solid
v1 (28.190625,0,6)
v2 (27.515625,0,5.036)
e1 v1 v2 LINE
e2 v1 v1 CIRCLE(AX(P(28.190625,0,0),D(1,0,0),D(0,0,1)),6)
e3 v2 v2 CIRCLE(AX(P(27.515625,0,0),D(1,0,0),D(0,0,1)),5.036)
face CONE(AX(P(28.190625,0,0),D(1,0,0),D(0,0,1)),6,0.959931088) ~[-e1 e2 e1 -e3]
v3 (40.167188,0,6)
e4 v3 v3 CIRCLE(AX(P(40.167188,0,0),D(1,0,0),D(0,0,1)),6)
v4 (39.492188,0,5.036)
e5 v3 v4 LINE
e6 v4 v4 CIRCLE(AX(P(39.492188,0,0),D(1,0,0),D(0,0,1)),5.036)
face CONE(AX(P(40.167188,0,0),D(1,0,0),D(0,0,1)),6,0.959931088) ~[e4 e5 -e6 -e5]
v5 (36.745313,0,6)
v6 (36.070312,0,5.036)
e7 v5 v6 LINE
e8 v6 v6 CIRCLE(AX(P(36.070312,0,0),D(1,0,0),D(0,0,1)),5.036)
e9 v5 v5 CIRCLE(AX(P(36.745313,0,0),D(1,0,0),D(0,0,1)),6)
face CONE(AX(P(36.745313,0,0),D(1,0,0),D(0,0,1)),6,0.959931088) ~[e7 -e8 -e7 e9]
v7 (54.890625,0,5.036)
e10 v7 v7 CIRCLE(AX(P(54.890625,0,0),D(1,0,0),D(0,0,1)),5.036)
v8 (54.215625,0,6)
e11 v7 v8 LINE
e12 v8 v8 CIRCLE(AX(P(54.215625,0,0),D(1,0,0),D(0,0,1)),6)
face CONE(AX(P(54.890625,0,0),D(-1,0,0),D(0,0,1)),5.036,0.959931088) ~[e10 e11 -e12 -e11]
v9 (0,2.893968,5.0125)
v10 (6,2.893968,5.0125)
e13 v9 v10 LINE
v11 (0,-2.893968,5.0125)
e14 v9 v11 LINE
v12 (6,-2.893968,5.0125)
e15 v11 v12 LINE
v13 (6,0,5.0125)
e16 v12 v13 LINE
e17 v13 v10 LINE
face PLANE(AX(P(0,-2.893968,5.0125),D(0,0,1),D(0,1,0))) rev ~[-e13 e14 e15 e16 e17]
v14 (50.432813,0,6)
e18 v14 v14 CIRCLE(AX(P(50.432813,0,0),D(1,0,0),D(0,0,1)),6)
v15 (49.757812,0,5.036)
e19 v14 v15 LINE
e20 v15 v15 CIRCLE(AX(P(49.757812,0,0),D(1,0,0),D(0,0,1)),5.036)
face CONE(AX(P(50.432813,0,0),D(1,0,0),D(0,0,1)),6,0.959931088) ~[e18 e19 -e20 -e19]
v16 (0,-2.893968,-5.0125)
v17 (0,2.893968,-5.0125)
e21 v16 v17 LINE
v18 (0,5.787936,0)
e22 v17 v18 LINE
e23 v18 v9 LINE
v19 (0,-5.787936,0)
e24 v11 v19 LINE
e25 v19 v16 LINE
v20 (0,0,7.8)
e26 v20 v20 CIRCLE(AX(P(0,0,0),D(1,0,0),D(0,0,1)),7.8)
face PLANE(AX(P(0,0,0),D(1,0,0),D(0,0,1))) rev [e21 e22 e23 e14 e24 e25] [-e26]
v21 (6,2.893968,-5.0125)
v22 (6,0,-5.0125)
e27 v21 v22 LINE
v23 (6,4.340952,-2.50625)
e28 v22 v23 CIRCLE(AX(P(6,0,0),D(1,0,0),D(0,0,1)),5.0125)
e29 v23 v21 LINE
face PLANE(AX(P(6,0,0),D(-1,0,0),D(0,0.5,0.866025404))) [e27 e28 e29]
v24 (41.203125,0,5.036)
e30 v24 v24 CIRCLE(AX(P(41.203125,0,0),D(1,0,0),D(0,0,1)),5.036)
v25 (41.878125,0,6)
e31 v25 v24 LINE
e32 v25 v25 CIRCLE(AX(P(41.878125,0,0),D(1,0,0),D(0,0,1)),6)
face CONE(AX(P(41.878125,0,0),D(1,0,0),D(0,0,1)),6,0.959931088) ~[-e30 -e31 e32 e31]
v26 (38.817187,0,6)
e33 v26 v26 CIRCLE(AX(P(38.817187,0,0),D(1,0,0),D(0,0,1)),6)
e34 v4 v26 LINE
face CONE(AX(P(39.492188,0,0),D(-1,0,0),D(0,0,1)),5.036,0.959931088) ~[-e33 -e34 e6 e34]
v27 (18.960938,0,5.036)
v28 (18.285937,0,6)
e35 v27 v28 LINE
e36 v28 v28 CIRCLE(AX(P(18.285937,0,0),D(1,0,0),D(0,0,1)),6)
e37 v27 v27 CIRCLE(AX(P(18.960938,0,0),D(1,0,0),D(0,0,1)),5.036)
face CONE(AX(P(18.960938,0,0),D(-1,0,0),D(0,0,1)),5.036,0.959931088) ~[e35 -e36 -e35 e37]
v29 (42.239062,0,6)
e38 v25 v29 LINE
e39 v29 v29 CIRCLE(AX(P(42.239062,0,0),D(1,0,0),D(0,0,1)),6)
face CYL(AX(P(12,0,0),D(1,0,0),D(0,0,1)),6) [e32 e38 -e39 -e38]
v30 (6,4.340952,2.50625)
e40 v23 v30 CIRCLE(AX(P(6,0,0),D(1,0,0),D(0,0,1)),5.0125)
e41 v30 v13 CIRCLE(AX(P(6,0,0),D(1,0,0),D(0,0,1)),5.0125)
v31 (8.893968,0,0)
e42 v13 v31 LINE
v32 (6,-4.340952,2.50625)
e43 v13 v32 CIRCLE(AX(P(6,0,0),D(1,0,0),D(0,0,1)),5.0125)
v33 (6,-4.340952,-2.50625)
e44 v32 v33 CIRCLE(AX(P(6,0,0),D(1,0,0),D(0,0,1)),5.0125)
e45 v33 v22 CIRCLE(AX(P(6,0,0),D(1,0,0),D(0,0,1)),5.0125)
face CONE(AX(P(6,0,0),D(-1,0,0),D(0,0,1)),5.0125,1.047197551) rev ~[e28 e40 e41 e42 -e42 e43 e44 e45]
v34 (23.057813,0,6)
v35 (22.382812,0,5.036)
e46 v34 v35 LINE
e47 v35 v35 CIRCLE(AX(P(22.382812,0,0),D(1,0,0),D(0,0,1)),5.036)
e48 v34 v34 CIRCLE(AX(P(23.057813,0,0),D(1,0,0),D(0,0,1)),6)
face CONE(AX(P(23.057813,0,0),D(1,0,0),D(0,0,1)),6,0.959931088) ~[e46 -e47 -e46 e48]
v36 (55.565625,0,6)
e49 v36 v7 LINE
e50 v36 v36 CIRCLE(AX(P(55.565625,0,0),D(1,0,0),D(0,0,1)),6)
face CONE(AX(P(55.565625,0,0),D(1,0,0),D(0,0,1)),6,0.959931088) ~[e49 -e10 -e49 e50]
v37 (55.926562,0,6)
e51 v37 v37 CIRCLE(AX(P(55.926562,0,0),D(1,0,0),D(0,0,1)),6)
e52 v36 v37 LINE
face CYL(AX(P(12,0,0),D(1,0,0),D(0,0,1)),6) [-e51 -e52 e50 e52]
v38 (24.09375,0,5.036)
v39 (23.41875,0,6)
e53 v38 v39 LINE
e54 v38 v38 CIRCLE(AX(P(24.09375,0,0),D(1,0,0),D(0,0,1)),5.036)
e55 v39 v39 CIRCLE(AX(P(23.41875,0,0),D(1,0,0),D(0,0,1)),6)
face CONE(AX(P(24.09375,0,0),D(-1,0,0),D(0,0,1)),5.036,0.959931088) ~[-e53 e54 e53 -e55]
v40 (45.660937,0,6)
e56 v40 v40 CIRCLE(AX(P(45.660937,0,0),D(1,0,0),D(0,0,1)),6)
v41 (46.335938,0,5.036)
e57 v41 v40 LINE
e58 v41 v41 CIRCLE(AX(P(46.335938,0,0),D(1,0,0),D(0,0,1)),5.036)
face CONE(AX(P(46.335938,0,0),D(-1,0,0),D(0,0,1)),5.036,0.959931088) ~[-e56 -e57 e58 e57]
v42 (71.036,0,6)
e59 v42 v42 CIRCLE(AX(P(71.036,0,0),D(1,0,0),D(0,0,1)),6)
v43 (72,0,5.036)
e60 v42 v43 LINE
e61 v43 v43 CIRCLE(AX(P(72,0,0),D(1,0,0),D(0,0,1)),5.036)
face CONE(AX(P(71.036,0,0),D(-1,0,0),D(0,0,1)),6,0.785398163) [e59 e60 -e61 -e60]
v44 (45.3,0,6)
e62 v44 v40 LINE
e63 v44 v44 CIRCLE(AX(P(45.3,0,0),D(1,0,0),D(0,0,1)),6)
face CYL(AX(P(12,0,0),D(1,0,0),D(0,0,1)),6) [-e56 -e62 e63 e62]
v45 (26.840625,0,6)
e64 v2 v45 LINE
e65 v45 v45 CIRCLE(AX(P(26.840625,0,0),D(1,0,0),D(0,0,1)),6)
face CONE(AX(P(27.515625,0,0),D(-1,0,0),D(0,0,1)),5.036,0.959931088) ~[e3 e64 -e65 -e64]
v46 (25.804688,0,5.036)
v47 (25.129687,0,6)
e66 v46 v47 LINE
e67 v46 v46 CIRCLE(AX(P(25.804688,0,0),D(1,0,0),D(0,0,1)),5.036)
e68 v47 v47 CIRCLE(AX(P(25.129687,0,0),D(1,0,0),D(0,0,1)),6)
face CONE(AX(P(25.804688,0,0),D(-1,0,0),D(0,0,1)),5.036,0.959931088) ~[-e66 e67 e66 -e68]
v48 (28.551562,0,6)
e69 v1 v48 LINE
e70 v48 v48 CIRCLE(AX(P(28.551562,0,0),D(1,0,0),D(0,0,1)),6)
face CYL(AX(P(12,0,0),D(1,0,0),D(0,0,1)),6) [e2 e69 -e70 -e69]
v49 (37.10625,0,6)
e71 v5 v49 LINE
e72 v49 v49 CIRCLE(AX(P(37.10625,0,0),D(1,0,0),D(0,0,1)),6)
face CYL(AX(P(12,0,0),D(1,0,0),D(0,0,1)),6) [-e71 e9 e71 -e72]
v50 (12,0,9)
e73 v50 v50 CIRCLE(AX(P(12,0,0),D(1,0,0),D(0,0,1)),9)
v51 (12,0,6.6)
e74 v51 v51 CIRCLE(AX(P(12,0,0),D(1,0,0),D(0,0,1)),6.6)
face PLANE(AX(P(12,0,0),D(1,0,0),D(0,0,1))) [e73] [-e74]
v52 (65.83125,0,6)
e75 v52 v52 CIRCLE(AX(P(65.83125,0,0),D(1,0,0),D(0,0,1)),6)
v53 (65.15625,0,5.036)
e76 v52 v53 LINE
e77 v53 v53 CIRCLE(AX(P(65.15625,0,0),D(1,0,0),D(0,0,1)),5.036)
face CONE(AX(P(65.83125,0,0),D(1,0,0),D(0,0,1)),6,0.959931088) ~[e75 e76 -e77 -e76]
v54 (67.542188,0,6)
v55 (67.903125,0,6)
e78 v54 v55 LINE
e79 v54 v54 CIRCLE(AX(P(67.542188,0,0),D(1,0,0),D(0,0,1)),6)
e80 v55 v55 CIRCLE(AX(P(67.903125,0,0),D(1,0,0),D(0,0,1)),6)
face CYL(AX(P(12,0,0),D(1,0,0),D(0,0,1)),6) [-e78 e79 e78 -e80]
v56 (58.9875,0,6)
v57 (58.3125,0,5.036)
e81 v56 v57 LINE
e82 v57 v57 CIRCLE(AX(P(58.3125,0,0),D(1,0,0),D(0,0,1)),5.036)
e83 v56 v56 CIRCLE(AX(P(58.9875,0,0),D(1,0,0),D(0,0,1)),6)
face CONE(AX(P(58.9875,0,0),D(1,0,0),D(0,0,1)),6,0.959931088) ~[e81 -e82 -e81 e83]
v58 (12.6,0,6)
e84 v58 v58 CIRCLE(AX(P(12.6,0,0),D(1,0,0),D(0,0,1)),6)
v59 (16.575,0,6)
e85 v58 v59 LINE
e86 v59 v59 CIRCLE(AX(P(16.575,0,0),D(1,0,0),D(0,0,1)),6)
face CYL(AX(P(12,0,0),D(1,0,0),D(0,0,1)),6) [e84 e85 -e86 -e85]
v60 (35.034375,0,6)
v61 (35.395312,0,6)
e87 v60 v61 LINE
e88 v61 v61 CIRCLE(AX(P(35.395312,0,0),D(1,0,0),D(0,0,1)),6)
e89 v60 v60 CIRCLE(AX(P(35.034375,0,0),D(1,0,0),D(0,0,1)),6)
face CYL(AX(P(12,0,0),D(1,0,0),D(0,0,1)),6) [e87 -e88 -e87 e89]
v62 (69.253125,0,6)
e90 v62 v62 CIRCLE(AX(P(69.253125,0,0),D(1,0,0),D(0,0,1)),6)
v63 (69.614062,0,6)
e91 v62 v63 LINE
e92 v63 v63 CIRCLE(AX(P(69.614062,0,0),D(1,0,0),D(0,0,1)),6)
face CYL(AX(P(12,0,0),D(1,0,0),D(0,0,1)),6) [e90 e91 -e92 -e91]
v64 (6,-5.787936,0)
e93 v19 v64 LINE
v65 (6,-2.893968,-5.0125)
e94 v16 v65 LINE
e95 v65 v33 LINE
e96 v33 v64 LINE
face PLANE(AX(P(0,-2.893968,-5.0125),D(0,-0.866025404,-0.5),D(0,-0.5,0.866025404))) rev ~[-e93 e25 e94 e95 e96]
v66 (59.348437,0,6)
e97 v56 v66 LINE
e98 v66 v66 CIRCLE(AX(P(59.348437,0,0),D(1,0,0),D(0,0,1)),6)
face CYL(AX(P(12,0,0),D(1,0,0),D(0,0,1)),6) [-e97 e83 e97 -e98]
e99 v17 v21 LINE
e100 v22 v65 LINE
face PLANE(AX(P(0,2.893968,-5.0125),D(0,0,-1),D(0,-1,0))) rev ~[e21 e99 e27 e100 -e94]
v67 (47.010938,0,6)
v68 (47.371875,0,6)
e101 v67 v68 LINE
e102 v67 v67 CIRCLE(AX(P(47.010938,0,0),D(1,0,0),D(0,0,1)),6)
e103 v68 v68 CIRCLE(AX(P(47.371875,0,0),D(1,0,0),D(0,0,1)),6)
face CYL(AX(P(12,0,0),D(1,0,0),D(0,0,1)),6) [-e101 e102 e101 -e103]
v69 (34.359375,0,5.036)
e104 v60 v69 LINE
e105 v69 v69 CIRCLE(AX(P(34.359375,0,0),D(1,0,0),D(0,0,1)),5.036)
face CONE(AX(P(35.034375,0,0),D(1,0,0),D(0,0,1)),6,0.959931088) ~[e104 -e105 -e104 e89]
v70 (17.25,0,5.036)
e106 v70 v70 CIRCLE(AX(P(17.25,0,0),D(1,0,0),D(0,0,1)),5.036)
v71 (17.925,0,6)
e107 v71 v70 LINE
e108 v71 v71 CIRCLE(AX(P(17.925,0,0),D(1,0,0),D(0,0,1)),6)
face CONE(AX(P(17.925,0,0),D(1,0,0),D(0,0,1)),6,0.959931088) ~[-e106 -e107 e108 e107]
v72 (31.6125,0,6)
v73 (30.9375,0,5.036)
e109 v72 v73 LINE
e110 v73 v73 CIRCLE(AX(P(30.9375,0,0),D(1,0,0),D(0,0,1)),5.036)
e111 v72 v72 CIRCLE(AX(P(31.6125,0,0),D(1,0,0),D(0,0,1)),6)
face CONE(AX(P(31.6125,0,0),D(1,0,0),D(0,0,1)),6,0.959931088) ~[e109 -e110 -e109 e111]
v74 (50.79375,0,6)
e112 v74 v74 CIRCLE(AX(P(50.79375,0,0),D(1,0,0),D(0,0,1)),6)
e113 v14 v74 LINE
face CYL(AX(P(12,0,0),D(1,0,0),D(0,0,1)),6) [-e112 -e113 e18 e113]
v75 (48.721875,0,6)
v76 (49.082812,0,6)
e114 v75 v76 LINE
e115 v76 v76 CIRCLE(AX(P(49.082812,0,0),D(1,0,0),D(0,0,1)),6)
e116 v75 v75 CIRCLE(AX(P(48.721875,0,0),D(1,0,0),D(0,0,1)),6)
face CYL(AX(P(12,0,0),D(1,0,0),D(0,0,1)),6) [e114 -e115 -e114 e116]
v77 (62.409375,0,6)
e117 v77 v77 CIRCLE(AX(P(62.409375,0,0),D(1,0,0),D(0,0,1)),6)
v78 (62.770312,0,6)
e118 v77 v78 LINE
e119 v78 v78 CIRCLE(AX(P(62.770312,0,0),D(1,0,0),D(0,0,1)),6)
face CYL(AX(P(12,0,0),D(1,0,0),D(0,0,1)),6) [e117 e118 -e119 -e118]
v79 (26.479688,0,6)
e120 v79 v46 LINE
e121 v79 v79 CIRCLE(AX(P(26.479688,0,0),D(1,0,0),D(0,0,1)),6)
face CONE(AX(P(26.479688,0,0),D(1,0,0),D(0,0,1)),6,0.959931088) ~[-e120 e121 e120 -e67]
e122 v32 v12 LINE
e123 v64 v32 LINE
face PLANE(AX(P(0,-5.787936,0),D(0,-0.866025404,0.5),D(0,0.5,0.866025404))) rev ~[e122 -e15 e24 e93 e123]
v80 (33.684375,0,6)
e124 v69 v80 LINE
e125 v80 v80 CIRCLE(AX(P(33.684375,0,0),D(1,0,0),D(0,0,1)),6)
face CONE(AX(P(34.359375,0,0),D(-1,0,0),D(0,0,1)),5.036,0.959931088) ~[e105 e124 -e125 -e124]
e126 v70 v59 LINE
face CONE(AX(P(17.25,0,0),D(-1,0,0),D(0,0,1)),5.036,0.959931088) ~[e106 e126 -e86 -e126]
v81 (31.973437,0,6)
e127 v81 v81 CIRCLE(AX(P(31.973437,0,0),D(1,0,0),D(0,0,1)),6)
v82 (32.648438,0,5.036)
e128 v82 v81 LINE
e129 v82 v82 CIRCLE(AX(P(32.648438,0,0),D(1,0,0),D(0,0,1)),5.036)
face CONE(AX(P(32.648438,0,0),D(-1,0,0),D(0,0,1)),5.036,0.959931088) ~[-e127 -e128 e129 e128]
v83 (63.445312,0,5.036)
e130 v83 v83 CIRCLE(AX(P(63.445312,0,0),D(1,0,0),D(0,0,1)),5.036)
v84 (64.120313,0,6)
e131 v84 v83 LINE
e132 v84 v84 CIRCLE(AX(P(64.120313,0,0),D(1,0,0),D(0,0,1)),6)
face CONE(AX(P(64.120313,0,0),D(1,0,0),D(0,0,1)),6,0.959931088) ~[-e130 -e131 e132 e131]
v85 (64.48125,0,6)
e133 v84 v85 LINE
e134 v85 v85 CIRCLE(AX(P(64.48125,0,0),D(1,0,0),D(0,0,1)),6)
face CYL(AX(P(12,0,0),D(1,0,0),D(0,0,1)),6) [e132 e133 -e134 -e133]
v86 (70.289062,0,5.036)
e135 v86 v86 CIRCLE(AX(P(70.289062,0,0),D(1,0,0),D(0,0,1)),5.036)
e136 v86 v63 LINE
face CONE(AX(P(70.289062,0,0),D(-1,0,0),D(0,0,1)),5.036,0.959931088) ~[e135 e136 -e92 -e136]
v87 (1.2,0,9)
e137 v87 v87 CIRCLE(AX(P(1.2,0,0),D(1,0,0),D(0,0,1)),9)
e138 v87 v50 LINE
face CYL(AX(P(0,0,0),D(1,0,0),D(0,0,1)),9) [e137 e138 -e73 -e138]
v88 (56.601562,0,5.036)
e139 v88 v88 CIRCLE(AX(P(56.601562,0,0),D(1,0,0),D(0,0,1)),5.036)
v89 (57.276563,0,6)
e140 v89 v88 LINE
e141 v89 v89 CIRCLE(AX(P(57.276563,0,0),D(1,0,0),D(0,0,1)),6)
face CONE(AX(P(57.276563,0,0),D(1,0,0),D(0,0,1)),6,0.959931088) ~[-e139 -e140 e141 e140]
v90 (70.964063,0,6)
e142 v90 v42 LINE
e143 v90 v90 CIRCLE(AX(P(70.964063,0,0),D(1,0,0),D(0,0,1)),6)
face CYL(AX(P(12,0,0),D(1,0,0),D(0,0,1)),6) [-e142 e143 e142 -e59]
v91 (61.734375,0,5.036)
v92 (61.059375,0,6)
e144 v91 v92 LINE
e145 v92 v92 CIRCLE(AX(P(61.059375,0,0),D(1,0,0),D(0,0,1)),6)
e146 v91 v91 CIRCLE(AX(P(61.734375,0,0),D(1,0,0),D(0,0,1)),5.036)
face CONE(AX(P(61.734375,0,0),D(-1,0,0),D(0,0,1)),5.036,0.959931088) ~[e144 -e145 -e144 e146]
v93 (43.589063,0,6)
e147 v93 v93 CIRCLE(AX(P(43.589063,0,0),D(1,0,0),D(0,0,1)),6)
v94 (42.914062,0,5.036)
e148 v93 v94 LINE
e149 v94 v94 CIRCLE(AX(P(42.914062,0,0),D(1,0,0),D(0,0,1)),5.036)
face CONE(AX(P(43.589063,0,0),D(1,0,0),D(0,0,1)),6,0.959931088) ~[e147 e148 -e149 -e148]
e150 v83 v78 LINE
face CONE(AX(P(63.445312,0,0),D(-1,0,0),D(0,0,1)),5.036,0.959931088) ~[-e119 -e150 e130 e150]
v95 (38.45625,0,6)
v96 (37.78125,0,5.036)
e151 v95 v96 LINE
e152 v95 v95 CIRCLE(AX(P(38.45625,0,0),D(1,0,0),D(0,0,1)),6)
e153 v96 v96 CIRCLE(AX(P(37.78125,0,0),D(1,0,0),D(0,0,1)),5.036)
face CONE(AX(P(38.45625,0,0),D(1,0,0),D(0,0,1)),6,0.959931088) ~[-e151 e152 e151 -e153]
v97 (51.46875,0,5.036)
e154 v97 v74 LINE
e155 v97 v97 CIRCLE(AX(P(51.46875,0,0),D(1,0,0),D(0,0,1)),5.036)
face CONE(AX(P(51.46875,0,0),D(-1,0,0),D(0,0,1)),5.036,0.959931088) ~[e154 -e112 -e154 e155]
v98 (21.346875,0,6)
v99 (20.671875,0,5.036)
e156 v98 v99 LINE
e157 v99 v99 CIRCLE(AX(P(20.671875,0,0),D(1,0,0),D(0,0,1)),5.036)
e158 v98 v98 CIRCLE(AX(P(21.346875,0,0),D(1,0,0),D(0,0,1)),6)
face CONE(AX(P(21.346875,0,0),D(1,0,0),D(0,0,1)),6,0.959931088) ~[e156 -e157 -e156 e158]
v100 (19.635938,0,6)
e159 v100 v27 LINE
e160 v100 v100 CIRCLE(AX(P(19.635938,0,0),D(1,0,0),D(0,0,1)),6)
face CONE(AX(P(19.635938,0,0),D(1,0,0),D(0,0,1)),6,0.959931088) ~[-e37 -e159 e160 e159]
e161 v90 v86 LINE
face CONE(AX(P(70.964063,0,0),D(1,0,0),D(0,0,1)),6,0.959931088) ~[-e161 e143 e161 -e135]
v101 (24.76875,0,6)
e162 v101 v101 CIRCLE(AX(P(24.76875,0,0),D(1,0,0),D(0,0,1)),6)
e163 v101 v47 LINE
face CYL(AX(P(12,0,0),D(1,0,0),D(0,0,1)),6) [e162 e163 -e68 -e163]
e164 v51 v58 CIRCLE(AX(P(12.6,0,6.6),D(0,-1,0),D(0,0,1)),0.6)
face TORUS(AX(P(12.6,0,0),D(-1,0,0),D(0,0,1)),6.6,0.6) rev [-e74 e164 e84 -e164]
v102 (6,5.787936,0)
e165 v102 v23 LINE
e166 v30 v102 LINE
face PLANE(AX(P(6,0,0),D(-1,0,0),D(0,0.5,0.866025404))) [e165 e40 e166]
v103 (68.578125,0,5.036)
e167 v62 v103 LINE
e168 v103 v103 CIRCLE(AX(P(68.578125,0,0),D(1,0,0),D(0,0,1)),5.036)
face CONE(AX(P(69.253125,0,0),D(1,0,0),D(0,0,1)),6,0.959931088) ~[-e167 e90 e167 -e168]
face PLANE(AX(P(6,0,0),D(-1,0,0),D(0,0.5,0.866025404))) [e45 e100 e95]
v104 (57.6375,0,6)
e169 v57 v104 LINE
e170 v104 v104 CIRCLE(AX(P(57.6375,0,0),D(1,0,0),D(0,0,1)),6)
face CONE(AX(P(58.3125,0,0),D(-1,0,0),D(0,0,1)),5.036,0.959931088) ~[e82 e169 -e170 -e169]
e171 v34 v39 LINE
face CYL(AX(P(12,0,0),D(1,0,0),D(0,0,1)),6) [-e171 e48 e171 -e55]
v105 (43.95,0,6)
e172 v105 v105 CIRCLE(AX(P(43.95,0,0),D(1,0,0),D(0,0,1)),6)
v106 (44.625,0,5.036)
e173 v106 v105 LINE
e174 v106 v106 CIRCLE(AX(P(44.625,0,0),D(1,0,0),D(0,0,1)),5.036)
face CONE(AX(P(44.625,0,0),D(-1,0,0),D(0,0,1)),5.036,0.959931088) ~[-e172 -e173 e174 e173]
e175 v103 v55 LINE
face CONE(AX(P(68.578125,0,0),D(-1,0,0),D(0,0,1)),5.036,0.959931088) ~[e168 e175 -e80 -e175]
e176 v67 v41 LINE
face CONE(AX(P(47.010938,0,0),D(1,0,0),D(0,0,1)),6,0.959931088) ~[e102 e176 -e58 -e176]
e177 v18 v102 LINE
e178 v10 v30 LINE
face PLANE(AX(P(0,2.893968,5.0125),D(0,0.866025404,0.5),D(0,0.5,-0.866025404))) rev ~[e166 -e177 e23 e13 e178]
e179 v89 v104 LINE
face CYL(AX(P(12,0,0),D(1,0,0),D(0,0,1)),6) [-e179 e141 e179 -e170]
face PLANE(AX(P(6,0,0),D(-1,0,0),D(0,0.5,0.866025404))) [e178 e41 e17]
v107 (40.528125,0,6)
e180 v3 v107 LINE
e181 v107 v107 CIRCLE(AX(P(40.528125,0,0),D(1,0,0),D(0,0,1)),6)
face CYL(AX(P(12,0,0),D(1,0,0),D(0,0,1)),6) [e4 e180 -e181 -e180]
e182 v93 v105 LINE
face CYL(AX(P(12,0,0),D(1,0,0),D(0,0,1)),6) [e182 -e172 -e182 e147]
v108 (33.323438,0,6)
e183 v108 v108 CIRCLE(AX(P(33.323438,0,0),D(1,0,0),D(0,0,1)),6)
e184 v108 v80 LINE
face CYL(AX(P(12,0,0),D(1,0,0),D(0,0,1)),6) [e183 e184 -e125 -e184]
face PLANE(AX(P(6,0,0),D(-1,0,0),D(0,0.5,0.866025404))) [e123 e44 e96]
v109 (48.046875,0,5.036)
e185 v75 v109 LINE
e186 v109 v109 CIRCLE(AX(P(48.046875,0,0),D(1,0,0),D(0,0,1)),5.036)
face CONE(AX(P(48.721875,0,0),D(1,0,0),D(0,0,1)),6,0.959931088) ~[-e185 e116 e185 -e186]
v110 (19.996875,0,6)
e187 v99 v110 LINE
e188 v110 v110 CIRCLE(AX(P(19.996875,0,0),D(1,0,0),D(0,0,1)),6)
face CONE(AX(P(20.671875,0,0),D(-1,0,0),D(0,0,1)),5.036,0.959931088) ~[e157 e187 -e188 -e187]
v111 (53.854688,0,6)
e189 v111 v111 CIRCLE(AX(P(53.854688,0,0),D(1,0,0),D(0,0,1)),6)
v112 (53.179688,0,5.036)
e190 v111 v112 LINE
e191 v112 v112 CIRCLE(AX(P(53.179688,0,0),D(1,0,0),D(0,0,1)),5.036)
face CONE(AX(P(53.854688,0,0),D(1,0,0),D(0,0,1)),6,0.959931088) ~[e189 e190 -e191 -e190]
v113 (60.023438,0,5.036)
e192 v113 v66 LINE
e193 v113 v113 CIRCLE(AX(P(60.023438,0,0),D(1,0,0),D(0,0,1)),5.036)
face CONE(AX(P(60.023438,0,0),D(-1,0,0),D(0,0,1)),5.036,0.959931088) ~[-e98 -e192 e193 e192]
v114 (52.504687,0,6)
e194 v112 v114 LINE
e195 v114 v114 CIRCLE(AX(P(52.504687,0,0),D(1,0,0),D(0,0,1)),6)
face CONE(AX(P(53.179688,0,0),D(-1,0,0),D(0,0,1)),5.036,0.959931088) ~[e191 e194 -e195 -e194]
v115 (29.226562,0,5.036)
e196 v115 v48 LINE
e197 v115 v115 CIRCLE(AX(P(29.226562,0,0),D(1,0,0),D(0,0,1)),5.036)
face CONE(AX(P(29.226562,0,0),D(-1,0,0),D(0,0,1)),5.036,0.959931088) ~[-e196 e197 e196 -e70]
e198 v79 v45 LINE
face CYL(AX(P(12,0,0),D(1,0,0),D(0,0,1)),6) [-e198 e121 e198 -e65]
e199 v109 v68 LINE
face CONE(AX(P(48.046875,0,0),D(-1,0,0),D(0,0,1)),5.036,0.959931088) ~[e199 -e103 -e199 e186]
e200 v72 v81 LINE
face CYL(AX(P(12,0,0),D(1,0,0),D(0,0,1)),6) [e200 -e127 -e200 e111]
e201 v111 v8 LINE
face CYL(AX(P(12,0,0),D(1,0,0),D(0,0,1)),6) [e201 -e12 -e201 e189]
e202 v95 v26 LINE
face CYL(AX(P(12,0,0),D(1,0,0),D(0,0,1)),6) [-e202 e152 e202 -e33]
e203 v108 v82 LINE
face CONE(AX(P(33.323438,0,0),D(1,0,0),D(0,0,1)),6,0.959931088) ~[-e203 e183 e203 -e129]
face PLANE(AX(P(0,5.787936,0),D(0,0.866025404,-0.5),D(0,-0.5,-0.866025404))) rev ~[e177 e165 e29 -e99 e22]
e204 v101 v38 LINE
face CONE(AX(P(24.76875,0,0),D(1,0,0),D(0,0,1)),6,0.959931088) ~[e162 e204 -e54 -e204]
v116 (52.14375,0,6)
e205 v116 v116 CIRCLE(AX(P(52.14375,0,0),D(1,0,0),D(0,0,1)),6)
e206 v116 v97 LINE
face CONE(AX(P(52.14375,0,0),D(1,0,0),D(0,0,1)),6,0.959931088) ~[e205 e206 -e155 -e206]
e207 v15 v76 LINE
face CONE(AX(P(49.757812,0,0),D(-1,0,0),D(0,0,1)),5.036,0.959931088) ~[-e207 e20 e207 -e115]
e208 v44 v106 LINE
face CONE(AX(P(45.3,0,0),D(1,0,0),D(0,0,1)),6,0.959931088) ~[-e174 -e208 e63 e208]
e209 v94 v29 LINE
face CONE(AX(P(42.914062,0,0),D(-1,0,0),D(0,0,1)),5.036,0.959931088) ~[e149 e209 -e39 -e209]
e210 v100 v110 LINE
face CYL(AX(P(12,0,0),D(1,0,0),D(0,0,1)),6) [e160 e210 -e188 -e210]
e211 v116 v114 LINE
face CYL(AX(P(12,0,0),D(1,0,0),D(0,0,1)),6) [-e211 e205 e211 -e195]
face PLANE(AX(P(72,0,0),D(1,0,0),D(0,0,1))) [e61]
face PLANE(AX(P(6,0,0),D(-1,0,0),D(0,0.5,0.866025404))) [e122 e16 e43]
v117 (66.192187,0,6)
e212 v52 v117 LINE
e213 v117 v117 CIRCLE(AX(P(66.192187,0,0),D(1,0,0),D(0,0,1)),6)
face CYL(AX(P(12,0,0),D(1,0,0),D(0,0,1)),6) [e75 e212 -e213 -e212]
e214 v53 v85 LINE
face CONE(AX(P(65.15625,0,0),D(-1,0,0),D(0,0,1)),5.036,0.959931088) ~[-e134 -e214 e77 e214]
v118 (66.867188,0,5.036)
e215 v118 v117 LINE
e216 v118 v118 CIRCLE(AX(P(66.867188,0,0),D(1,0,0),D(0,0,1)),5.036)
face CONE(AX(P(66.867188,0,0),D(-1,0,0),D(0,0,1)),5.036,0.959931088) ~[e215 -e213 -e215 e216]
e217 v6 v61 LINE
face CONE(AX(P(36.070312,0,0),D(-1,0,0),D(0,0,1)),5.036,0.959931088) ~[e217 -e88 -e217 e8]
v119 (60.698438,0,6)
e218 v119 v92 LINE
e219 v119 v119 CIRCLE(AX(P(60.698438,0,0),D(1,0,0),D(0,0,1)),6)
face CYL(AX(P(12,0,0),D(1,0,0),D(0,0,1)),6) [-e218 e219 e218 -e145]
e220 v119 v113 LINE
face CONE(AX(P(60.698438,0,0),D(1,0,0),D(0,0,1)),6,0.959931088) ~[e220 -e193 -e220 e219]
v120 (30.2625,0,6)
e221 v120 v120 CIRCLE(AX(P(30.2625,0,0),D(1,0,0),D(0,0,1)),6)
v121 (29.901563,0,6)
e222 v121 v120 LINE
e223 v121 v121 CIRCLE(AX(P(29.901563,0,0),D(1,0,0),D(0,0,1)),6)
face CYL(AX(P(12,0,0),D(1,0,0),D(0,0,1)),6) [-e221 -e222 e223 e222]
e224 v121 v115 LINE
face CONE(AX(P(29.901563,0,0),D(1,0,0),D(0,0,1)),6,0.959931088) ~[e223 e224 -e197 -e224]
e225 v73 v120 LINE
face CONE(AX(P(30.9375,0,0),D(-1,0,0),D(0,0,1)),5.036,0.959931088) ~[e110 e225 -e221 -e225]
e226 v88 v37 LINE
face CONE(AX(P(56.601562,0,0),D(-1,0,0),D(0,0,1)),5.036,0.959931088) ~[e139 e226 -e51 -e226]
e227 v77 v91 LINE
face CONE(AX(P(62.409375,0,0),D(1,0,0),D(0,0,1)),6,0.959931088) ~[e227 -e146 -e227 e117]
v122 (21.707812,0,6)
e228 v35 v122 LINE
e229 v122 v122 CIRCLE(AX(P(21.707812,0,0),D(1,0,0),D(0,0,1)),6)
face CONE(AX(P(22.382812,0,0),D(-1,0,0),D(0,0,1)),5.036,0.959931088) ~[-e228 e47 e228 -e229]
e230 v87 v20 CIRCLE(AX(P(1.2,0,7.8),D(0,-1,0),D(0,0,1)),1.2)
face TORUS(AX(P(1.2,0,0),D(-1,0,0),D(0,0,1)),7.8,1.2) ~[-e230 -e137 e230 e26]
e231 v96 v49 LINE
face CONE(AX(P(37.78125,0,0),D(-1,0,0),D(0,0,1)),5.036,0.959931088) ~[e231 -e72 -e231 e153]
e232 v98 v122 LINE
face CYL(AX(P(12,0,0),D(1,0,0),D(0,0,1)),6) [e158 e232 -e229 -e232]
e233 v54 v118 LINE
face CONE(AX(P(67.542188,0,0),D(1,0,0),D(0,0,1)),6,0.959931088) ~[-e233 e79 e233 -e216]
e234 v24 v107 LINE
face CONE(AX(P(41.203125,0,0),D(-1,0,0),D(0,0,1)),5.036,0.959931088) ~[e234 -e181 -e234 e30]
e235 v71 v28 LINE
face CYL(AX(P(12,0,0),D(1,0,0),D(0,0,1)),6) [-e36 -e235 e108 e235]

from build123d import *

# Parameters (mm, degrees)
FILLET1_R       = 0.6
FILLET2_R       = 1.2
HEX_2_DEPTH     = 6
THDSCHPAT_COUNT = 32
THDSCHPAT_PITCH = 1.7109375


with BuildPart() as part:
    # BodySke → Base-Revolve (revolve)
    with BuildSketch(Plane.XY, mode=Mode.PRIVATE) as base_revolve_sk:
        Polygon((0, 0), (0, 9), (12, 9), (12, 6), (71.036, 6), (72, 5.036), (72, 0), align=None)
    revolve(base_revolve_sk.sketch.rotate(Axis((-31.75, 0, 0), (1, 0, 0)), 90), axis=Axis((-31.75, 0, 0), (1, 0, 0)))  # turned: the seam where the file's is

    # Fillet1
    fillet1_edges = [part.edges().sort_by_distance(p)[0] for p in [
        (12, 0, -6),
    ]]
    fillet(fillet1_edges, radius=FILLET1_R)

    # Fillet2
    fillet2_edges = [part.edges().sort_by_distance(p)[0] for p in [
        (0, 0, -9),
    ]]
    fillet(fillet2_edges, radius=FILLET2_R)

    # Sketch2 → Hex-PreBroach (revolve, cut)
    with BuildSketch(Plane.XY, mode=Mode.PRIVATE) as hex_prebroach_sk:
        Polygon((0, 5.0125), (6, 5.0125), (8.893968224, 0), (0, 0), align=None)
    revolve(hex_prebroach_sk.sketch.rotate(Axis((0, 0, 0), (1, 0, 0)), 90), axis=Axis((0, 0, 0), (1, 0, 0)), mode=Mode.SUBTRACT)  # turned: the seam where the file's is

    # Sketch3 → Hex 2 (cut)
    with BuildSketch(Plane(origin=(0, 0, 0), x_dir=(0, 0.5, 0.866025404), z_dir=(-1, 0, 0))):
        Polygon((2.893968224, 5.0125), (-2.893968224, 5.0125), (-5.787936449, 0), (-2.893968224, -5.0125), (2.893968224, -5.0125), (5.787936449, 0), align=None)
    extrude(amount=-HEX_2_DEPTH, mode=Mode.SUBTRACT)

    # ThdSchSke → ThreadSchematic (revolve, cut)
    with BuildSketch(Plane.XY, mode=Mode.PRIVATE) as threadschematic_sk:
        Polygon((17.25, -5.036), (16.574999933, -6), (16.574999933, -7.5), (17.925000067, -7.5), (17.925000067, -6), align=None)
    threadschematic = revolve(threadschematic_sk.sketch.rotate(Axis((-3.175, 0, 0), (1, 0, 0)), 270), axis=Axis((-3.175, 0, 0), (1, 0, 0)), mode=Mode.SUBTRACT)  # turned: the seam where the file's is

    # ThdSchPat: ThreadSchematic ×32
    with Locations(*[(i * THDSCHPAT_PITCH, 0, 0) for i in range(1, THDSCHPAT_COUNT)]):
        add(threadschematic, mode=Mode.SUBTRACT)


solid = part.part
